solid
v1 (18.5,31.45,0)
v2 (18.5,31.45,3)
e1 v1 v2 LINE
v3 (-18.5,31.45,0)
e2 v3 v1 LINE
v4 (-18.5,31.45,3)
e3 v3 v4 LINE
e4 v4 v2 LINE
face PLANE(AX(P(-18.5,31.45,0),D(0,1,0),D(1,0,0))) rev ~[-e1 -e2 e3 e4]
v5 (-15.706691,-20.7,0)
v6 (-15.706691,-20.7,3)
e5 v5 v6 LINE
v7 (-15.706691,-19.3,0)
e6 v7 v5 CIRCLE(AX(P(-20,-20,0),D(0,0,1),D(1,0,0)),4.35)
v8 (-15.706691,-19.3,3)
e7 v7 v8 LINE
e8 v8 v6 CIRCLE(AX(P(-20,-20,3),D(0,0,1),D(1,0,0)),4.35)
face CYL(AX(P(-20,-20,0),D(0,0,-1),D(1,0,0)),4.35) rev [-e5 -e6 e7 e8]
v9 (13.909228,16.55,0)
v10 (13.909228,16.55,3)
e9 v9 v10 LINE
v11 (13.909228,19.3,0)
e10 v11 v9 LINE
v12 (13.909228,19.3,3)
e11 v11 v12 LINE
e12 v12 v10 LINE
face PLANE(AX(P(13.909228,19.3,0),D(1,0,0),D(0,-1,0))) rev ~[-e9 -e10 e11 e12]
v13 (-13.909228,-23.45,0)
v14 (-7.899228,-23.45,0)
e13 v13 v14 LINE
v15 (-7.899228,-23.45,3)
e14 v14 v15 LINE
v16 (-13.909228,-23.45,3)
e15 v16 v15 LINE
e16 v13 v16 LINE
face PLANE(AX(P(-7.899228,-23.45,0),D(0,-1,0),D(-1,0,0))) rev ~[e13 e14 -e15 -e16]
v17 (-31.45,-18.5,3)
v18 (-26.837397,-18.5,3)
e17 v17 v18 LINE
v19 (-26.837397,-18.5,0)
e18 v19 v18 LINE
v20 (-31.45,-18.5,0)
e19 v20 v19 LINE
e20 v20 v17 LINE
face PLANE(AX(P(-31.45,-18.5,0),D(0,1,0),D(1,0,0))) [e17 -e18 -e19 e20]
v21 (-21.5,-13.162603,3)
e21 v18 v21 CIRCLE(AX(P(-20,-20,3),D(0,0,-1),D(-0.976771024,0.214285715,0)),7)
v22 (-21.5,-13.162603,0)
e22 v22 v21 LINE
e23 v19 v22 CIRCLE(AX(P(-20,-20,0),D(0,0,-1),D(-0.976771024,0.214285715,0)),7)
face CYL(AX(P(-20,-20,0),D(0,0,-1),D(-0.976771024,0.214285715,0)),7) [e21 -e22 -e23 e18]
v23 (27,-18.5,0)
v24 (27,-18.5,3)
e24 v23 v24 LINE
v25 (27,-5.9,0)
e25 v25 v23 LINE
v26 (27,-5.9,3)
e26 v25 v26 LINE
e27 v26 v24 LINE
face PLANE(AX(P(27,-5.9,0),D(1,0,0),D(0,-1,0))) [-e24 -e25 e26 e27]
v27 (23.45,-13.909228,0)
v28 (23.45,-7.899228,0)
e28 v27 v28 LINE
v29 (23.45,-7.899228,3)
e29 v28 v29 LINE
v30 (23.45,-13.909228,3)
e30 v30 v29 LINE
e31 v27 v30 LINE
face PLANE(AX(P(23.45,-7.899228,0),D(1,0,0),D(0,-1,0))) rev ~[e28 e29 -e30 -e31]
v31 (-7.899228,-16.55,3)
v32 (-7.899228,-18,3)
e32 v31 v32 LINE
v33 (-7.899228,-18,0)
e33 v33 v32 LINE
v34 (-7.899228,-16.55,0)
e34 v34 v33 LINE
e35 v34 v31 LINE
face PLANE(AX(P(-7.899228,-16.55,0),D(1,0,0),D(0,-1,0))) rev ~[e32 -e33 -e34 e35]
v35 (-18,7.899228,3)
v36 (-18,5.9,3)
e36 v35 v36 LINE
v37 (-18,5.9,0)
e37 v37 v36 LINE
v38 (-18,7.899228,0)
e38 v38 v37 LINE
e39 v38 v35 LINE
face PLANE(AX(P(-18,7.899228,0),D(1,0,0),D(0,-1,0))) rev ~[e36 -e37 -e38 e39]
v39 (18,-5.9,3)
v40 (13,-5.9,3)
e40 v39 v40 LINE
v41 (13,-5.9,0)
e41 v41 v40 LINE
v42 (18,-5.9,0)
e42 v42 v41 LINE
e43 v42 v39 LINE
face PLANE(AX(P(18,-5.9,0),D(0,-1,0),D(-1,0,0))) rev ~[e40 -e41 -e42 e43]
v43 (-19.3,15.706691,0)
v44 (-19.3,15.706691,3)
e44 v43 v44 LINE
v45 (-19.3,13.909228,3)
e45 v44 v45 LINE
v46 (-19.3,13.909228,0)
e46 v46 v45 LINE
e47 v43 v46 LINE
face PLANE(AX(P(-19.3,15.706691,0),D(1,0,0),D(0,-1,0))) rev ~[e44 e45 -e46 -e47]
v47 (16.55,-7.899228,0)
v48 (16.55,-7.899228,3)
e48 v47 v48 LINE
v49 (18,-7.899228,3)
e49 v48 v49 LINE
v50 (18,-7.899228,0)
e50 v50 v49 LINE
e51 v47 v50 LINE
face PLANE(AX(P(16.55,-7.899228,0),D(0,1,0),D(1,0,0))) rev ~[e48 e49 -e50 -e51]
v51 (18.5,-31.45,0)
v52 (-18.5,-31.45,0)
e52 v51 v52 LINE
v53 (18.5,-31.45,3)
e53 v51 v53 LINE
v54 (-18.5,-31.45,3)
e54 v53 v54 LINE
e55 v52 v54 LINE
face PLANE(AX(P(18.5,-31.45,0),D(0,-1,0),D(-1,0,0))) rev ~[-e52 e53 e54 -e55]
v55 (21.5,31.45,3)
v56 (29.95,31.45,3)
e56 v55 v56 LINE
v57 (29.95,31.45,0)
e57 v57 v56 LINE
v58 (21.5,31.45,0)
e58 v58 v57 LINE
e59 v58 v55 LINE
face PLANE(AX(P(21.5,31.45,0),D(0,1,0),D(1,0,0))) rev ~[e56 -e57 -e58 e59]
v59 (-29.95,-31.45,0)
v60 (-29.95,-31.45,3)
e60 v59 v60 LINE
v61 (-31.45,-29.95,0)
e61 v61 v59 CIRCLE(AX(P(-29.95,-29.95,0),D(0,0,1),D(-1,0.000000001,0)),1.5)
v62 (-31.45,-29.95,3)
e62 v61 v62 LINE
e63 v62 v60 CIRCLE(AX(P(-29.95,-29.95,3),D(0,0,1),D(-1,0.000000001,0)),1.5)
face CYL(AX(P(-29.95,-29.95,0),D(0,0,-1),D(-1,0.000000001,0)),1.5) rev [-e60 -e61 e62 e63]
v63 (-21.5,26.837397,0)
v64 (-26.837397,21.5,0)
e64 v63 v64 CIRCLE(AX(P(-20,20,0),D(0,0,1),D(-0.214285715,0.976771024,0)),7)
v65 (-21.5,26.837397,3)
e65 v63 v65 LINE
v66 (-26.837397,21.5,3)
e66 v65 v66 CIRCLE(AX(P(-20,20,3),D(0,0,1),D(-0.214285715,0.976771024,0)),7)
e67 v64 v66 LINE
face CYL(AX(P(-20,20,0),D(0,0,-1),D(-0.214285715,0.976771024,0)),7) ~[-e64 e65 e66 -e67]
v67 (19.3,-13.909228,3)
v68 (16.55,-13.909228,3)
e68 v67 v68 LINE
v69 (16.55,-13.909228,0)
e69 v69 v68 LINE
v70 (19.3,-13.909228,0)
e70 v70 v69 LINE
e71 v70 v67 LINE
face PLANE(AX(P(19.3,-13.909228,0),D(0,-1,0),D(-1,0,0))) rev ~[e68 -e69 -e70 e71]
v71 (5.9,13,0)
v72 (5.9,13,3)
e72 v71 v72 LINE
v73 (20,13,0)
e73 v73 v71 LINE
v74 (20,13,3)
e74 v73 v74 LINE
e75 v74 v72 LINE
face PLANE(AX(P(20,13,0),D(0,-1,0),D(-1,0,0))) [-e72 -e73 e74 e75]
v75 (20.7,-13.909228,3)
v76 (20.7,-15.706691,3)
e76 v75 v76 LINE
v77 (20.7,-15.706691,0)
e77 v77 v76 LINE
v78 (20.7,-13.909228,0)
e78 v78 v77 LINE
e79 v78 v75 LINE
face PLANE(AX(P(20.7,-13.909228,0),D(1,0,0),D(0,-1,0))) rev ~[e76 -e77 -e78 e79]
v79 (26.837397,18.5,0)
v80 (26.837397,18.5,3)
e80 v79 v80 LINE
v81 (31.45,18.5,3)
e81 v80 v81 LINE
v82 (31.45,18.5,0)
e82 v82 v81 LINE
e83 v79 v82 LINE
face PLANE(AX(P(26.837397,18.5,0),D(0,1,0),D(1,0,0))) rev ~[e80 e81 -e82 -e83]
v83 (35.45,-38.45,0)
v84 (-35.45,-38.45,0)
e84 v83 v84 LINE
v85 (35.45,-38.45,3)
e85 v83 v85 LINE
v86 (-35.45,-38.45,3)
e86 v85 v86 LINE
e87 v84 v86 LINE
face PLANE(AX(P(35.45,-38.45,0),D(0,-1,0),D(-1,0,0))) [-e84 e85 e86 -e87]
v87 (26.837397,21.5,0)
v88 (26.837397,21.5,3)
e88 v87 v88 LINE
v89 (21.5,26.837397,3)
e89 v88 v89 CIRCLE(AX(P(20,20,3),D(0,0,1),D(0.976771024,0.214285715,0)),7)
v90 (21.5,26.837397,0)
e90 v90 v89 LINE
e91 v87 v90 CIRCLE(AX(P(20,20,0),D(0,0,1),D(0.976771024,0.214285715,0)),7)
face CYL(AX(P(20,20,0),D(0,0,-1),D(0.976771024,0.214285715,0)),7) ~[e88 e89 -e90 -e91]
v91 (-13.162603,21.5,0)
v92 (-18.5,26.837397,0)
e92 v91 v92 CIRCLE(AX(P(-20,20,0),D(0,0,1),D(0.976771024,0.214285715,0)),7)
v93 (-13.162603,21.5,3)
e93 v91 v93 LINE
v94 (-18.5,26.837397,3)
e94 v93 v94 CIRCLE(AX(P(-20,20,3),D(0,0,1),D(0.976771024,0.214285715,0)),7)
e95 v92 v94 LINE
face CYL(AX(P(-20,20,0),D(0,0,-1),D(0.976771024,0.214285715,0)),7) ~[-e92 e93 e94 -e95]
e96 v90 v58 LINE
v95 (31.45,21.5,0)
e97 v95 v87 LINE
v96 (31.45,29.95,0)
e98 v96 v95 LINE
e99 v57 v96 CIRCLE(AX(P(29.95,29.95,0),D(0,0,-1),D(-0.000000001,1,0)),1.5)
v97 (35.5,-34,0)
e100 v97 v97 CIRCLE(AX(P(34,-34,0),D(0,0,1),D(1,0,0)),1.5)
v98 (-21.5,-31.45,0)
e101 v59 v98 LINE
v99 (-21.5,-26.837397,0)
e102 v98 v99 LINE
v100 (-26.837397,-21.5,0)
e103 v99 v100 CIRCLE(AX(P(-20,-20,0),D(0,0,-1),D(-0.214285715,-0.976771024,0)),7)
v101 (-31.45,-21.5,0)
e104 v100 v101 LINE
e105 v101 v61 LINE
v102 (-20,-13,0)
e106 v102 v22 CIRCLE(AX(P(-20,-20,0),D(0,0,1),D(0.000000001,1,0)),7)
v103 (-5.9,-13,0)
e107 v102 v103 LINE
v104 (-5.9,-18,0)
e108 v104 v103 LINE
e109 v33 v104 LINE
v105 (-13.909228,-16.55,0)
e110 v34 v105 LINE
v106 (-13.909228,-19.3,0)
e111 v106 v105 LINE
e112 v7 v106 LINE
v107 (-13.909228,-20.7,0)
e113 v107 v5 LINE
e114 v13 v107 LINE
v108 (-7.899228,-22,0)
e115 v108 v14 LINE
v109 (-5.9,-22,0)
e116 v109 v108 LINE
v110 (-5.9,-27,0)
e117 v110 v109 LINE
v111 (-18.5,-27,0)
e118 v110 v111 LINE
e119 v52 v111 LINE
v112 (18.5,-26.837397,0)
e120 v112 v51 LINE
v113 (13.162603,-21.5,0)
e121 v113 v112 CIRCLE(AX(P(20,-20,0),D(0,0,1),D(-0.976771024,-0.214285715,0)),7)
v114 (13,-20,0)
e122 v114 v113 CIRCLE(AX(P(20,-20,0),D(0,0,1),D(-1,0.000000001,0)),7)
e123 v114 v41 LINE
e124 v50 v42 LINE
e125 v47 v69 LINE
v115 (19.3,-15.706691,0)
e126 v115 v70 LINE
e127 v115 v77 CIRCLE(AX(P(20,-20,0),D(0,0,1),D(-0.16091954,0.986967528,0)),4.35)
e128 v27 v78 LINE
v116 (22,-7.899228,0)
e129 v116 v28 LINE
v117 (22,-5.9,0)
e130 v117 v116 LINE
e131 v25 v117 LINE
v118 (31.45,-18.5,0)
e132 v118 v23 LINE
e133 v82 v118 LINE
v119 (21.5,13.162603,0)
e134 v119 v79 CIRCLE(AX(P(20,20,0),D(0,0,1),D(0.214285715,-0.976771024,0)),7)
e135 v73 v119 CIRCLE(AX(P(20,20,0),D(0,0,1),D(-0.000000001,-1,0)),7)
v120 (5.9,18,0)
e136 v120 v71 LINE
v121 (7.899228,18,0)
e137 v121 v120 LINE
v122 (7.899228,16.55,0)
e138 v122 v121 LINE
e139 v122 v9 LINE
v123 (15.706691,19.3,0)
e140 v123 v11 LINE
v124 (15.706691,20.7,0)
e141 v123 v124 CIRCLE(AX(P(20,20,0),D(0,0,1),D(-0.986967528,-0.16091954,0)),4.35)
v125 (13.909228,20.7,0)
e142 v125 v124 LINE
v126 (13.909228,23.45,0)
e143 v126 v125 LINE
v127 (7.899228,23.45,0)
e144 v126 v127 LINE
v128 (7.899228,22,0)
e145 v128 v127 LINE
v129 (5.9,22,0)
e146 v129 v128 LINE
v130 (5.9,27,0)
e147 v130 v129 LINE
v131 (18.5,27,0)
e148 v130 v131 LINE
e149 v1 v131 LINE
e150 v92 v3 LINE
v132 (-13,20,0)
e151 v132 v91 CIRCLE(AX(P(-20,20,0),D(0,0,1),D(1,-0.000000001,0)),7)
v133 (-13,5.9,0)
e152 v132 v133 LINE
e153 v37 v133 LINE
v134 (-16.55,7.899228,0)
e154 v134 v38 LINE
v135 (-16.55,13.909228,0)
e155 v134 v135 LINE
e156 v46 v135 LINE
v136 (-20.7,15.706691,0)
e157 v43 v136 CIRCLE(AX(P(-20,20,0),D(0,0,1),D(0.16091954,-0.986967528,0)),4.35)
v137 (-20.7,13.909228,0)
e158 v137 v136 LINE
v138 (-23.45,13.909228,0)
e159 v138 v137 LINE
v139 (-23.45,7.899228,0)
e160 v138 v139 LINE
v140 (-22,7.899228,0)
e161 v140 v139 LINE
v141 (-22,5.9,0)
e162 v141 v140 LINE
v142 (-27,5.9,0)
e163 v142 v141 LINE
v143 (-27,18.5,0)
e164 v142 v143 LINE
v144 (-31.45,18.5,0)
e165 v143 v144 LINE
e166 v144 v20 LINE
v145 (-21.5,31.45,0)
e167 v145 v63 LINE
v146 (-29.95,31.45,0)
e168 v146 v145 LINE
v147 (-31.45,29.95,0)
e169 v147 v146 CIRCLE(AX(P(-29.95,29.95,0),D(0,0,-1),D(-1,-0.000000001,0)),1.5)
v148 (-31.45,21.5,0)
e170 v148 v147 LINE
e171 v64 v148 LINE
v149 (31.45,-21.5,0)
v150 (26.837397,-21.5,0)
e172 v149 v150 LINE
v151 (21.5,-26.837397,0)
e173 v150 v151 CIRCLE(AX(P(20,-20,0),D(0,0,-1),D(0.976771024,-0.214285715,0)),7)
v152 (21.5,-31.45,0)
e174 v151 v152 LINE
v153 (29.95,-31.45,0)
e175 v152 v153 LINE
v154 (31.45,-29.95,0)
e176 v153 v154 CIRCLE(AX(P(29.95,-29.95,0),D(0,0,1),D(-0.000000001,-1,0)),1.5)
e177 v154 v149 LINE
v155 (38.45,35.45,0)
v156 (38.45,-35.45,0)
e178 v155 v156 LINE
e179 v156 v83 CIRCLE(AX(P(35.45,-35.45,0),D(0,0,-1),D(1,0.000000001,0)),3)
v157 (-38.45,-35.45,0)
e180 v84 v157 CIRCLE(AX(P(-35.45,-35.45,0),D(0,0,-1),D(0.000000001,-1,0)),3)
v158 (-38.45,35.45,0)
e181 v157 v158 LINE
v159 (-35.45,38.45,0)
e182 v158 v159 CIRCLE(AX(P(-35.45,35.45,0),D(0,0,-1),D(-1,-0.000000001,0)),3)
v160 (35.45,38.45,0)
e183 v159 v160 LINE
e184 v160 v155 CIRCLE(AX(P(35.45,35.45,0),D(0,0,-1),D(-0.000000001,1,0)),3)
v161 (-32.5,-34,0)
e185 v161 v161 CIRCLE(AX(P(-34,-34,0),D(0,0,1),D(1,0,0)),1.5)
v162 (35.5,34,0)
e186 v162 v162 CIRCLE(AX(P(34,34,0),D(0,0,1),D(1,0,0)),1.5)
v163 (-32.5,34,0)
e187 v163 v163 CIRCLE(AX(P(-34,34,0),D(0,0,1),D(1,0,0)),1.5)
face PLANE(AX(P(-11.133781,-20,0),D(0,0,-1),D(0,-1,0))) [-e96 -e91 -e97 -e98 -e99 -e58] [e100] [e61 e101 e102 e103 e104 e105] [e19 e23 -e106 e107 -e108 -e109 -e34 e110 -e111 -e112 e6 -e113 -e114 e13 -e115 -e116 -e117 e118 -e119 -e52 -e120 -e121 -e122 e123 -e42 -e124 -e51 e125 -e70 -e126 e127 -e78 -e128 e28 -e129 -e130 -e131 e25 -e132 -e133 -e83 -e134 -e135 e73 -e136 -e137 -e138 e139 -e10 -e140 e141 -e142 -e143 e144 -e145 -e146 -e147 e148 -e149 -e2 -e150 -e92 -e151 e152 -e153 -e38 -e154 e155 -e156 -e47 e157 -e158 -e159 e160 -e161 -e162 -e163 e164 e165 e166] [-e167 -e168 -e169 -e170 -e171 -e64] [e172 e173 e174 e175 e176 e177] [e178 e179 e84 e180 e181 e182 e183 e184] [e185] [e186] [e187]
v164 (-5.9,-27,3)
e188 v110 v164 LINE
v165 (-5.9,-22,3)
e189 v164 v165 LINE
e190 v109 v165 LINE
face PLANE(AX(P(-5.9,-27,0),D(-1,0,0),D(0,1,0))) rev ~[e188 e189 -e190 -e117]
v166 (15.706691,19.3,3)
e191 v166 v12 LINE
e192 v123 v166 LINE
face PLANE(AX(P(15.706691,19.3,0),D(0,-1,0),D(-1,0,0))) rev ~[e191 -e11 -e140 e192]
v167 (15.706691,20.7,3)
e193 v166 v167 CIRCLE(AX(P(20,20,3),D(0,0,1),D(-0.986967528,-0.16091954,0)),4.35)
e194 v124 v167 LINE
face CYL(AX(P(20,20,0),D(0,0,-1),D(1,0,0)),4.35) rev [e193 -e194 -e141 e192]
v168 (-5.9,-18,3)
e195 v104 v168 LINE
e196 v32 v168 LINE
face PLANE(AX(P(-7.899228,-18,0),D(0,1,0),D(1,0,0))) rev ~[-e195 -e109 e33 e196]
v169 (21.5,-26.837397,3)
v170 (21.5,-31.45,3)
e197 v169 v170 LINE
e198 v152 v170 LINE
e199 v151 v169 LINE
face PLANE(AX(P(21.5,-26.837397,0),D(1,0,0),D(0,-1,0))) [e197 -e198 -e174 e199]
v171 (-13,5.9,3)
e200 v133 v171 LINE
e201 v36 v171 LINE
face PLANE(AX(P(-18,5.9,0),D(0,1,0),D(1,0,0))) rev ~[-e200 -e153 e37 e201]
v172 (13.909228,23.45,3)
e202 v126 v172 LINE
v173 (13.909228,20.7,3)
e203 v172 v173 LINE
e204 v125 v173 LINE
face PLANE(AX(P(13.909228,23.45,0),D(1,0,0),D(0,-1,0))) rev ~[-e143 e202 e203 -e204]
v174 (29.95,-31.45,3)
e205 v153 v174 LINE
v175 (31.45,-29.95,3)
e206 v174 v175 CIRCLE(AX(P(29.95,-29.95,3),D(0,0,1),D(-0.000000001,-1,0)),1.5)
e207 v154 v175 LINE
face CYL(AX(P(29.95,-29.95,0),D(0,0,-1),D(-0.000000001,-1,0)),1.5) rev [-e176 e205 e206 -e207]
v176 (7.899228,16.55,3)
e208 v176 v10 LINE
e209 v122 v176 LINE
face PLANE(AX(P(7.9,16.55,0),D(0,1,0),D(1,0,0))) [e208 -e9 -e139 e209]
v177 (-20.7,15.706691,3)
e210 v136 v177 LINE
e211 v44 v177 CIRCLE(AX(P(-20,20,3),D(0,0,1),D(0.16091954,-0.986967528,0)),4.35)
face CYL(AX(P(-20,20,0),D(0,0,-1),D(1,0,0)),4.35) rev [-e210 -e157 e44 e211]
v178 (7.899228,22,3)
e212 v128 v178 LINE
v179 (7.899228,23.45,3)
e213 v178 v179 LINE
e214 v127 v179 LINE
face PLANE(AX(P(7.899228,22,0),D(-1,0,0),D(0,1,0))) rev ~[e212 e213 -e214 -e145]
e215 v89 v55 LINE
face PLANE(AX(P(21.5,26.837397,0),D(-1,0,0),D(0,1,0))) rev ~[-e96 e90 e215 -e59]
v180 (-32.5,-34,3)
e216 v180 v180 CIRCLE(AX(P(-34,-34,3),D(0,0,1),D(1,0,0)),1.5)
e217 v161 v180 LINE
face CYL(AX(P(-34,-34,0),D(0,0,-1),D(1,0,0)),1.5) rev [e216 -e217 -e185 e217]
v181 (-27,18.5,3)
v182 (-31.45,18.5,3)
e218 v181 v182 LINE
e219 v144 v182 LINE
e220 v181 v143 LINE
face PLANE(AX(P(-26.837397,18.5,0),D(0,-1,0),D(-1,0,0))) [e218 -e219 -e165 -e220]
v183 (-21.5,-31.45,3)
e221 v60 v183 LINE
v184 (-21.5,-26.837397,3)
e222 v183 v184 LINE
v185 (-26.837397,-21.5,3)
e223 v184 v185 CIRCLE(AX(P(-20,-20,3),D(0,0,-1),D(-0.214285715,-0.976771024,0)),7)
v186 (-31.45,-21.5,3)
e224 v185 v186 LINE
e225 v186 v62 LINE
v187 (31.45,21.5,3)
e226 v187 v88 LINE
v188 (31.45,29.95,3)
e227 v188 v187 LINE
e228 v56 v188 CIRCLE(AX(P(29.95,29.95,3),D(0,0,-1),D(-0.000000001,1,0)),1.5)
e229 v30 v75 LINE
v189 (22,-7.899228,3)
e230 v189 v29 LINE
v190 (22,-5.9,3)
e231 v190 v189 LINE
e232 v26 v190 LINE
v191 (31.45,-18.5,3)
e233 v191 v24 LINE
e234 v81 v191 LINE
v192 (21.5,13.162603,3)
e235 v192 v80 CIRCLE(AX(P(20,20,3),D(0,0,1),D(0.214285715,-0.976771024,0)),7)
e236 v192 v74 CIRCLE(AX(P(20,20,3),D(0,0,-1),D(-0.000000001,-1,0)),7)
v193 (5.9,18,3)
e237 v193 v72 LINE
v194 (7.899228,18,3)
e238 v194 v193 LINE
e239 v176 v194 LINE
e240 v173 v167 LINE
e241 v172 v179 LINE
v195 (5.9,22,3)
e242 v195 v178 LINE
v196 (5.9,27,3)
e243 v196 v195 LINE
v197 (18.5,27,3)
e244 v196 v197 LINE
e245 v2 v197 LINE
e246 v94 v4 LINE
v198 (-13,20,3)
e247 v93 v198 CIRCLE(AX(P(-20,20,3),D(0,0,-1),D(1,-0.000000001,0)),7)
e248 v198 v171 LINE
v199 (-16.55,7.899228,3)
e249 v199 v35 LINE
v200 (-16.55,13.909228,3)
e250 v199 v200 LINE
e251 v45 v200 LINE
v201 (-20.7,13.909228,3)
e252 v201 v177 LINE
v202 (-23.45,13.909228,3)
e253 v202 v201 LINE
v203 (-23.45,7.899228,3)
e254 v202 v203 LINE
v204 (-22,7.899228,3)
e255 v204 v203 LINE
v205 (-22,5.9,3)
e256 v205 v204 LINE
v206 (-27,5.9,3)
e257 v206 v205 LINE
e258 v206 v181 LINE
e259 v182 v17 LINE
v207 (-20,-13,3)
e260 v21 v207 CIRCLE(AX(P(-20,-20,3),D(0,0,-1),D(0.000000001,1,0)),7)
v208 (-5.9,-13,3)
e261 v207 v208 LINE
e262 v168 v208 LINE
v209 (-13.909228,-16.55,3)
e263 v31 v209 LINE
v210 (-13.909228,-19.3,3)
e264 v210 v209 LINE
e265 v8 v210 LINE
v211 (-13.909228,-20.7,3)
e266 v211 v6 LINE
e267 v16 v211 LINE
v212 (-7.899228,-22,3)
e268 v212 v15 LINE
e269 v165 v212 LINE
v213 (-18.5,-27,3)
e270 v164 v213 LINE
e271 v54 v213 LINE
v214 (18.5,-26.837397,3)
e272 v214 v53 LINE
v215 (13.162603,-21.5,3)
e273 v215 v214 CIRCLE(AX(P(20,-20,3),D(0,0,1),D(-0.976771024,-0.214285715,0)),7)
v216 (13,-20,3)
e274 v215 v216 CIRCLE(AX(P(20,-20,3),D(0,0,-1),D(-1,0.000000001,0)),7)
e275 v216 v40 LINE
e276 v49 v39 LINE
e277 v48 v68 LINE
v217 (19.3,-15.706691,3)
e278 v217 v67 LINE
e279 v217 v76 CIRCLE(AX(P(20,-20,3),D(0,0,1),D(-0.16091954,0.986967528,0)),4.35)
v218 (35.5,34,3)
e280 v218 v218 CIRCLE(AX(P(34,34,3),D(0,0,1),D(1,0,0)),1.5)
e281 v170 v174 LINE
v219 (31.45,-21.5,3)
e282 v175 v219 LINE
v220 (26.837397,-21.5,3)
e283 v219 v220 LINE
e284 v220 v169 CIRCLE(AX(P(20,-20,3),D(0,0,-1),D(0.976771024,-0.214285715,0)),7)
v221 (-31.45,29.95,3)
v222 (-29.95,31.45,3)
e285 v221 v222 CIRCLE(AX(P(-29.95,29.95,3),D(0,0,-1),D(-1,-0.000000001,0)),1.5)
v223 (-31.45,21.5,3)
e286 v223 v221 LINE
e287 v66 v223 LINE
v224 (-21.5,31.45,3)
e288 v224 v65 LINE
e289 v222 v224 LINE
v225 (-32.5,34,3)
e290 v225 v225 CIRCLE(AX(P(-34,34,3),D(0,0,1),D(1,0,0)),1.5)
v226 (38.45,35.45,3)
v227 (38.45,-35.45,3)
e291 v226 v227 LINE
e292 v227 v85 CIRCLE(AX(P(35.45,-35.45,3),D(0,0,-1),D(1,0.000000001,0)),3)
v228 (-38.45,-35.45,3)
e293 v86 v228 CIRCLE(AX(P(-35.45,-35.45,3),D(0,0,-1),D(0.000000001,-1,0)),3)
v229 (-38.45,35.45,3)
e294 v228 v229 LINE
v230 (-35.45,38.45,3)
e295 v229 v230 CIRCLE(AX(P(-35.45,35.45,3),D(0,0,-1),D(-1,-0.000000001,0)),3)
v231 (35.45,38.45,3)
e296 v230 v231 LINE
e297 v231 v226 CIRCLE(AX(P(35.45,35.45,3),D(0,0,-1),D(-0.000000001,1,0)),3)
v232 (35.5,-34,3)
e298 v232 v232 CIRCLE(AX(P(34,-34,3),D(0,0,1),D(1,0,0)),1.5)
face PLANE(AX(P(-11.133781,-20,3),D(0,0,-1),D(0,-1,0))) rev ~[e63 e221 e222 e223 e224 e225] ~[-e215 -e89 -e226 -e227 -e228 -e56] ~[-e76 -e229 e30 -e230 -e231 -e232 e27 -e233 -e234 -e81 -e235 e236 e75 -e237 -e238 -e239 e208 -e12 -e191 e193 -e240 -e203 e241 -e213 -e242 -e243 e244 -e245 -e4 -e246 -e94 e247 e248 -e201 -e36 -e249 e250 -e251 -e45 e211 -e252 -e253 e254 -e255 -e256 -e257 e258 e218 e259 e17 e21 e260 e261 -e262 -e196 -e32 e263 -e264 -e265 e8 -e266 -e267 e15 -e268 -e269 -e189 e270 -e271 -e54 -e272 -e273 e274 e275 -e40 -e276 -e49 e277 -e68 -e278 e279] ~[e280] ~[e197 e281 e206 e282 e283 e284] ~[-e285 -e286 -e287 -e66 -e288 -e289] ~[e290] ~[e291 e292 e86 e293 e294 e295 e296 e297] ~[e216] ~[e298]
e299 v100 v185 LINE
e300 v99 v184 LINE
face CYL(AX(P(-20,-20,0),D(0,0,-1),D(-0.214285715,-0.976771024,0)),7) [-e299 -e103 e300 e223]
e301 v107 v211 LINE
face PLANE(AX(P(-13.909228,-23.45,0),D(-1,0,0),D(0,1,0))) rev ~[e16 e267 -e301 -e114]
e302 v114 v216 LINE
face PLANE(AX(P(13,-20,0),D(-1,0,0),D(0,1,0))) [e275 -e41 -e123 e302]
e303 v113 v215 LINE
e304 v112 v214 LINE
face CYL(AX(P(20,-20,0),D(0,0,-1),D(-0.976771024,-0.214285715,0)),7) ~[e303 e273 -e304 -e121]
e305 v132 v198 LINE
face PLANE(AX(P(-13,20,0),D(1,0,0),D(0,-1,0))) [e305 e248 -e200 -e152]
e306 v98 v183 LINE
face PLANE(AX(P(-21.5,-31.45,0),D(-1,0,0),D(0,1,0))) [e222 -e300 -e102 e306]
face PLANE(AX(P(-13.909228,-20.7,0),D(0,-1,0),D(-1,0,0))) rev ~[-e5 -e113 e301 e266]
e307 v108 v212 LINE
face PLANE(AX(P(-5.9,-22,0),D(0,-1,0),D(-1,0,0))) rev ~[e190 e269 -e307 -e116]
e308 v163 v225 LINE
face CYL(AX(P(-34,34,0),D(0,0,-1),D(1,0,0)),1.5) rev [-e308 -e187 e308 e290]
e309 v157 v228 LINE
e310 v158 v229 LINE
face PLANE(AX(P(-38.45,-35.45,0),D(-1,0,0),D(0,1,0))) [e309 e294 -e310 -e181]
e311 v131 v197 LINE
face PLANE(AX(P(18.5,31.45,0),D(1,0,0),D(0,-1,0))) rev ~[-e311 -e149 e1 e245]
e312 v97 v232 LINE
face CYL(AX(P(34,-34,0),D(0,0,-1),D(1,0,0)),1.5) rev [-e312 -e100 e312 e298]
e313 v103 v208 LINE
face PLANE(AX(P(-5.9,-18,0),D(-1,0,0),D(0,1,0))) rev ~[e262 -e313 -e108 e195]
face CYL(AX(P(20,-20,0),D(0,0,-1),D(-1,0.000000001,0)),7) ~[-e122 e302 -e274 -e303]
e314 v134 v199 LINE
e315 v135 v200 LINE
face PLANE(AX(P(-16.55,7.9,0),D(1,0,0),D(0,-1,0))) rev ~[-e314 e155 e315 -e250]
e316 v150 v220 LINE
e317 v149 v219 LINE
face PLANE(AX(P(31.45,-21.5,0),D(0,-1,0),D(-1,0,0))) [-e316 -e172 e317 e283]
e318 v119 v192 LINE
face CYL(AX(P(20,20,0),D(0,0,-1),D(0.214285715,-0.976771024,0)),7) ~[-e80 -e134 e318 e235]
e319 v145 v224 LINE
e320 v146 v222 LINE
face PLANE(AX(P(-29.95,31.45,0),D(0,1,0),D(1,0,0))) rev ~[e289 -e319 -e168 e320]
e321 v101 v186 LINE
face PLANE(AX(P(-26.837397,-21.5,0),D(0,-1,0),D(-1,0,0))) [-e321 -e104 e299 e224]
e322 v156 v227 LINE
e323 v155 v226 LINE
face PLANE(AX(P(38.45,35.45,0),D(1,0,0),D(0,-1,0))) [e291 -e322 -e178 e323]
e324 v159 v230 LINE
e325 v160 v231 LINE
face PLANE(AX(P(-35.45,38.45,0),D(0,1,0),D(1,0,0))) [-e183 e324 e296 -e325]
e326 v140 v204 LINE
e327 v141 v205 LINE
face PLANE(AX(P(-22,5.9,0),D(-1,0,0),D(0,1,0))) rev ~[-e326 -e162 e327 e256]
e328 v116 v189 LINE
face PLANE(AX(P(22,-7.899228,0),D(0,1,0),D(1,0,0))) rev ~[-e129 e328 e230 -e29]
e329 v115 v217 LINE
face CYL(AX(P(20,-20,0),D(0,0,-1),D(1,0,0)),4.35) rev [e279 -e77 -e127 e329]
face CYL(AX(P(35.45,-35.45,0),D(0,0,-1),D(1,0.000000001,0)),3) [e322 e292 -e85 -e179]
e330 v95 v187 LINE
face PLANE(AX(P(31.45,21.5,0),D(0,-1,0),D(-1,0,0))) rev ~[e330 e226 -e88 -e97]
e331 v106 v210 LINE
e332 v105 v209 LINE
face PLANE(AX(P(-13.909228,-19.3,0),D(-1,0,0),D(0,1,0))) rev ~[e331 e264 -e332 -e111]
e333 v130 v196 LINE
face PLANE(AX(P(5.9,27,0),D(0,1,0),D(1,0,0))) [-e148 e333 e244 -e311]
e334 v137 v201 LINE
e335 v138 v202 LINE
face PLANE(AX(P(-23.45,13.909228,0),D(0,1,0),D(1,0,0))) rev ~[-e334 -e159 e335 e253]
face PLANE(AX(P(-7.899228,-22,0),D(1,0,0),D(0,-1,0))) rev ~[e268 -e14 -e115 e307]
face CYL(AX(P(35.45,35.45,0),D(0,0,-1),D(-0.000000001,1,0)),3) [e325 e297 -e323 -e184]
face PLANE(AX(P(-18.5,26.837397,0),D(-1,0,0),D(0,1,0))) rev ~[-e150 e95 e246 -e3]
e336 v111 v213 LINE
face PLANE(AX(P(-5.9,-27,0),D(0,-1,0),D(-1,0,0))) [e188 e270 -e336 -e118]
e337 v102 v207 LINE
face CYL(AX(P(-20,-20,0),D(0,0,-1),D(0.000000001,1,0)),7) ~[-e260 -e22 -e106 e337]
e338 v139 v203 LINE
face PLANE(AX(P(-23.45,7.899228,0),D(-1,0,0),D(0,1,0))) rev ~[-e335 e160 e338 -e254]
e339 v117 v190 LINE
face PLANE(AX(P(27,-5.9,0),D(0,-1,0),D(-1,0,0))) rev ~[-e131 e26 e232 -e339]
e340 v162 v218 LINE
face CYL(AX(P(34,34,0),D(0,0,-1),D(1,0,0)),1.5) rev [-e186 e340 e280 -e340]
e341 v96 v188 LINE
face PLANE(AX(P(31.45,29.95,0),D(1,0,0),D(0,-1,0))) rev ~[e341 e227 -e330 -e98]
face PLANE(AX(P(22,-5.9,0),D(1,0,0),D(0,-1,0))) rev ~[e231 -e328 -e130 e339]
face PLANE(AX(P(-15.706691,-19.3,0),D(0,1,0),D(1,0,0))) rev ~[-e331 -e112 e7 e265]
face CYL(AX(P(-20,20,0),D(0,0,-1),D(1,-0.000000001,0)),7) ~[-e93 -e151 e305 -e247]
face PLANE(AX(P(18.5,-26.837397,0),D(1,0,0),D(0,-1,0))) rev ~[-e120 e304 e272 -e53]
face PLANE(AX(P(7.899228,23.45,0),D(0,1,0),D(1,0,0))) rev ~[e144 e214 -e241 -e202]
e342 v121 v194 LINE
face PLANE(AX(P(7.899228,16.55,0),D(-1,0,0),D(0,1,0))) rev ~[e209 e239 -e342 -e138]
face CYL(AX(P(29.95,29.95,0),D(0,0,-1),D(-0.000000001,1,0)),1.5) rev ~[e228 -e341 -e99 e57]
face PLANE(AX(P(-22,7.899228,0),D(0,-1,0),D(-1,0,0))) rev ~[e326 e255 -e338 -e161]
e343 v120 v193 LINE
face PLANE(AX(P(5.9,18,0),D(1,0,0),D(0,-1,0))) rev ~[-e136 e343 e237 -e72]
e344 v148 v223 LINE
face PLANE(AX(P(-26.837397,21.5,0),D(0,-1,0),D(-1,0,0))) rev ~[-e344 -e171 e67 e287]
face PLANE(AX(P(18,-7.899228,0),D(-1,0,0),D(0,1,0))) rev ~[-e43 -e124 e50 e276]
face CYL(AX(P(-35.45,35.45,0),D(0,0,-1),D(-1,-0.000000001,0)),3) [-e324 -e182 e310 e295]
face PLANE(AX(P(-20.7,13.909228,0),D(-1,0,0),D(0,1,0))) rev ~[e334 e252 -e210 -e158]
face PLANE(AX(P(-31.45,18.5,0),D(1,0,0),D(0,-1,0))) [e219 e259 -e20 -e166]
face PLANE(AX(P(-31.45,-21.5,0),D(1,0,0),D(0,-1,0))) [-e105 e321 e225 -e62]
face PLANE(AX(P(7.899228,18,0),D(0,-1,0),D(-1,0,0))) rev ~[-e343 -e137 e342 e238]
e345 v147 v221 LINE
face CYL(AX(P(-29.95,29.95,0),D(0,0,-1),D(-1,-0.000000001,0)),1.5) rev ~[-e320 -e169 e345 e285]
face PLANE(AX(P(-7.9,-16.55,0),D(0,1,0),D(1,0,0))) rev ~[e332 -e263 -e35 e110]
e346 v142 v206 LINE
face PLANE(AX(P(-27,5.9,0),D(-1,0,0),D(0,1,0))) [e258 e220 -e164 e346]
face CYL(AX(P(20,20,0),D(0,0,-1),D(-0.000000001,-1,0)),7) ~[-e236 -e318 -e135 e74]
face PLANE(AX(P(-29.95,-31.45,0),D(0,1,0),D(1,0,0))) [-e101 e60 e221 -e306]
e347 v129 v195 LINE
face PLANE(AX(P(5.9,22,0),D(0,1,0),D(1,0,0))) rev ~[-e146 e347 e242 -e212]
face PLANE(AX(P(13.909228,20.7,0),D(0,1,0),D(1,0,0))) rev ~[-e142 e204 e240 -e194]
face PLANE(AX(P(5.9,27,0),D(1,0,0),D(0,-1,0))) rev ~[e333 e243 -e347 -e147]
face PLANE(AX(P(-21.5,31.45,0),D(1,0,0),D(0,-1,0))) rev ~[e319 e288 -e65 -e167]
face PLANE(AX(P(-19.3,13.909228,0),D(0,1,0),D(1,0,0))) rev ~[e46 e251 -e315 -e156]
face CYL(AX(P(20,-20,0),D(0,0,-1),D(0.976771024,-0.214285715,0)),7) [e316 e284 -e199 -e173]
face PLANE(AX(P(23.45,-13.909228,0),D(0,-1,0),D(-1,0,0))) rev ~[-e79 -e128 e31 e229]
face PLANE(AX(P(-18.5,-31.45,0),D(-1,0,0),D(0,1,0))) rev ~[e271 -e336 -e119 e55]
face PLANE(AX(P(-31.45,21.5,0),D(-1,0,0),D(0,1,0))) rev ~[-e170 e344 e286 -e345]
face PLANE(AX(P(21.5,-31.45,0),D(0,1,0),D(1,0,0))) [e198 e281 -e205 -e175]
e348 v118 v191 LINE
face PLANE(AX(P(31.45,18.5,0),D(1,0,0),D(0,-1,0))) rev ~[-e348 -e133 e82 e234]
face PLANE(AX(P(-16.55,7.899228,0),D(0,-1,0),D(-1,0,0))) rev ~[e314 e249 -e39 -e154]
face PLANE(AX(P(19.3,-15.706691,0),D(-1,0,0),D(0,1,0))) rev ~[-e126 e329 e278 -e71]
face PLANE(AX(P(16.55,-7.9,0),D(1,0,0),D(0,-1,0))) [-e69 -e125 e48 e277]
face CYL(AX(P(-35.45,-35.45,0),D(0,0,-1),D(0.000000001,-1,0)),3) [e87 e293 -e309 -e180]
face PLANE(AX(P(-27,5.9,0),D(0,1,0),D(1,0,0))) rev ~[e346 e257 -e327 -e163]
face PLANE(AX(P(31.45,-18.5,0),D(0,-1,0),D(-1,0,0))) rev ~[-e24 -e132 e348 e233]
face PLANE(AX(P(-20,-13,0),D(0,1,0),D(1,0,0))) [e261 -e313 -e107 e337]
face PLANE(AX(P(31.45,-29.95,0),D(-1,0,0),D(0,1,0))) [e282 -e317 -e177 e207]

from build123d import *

# Parameters (mm, degrees)
SKETCH_1_R               = 1.5
SKETCH_1_R_2             = 4.35
EXTRUDE_1_DEPTH          = 3
EXTRUDE_3_DEPTH          = 3
CUT_EXTRUDE_2_DEPTH      = 55.459204915
PATTERN_CIRCULAR_2_COUNT = 4


with BuildPart() as part:
    # 草圖1 → 填料-伸長1 (new body)
    with BuildSketch(Plane.XY):
        with BuildLine():
            Line((35.45, 38.45), (-35.45, 38.45))
            ThreePointArc((-35.45, 38.45), (-37.571320344, 37.571320344), (-38.45, 35.45))
            Line((-38.45, 35.45), (-38.45, -35.45))
            ThreePointArc((-38.45, -35.45), (-37.571320344, -37.571320344), (-35.45, -38.45))
            Line((-35.45, -38.45), (35.45, -38.45))
            ThreePointArc((35.45, -38.45), (37.571320344, -37.571320344), (38.45, -35.45))
            Line((38.45, -35.45), (38.45, 35.45))
            ThreePointArc((38.45, 35.45), (37.571320344, 37.571320344), (35.45, 38.45))
        make_face()
        with Locations((-34, -34)):
            Circle(SKETCH_1_R, mode=Mode.SUBTRACT)
        with BuildLine():
            Line((-21.5, -31.45), (-29.95, -31.45))
            ThreePointArc((-29.95, -31.45), (-31.010660172, -31.010660172), (-31.45, -29.95))
            Line((-31.45, -29.95), (-31.45, -21.5))
            Line((-31.45, -21.5), (-26.837397166, -21.5))
            ThreePointArc((-26.837397166, -21.5), (-24.949747468, -24.949747468), (-21.5, -26.837397166))
            Line((-21.5, -26.837397166), (-21.5, -31.45))
        make_face(mode=Mode.SUBTRACT)
        with Locations((-20, -20)):
            Circle(SKETCH_1_R_2, mode=Mode.SUBTRACT)
        with BuildLine():
            Line((18.5, -31.45), (-18.5, -31.45))
            Line((-18.5, -31.45), (-18.5, -26.837397166))
            ThreePointArc((-18.5, -26.837397166), (-15.050252532, -24.949747468), (-13.162602834, -21.5))
            Line((-13.162602834, -21.5), (13.162602834, -21.5))
            ThreePointArc((13.162602834, -21.5), (15.050252532, -24.949747468), (18.5, -26.837397166))
            Line((18.5, -26.837397166), (18.5, -31.45))
        make_face(mode=Mode.SUBTRACT)
        with Locations((34, -34)):
            Circle(SKETCH_1_R, mode=Mode.SUBTRACT)
        with BuildLine():
            Line((21.5, -31.45), (21.5, -26.837397166))
            ThreePointArc((21.5, -26.837397166), (24.949747468, -24.949747468), (26.837397166, -21.5))
            Line((26.837397166, -21.5), (31.45, -21.5))
            Line((31.45, -21.5), (31.45, -29.95))
            ThreePointArc((31.45, -29.95), (31.010660172, -31.010660172), (29.95, -31.45))
            Line((29.95, -31.45), (21.5, -31.45))
        make_face(mode=Mode.SUBTRACT)
        with Locations((20, -20)):
            Circle(SKETCH_1_R_2, mode=Mode.SUBTRACT)
        with BuildLine():
            Line((-31.45, -18.5), (-31.45, 18.5))
            Line((-31.45, 18.5), (-26.837397166, 18.5))
            ThreePointArc((-26.837397166, 18.5), (-24.949747468, 15.050252532), (-21.5, 13.162602834))
            Line((-21.5, 13.162602834), (-21.5, -13.162602834))
            ThreePointArc((-21.5, -13.162602834), (-24.949747468, -15.050252532), (-26.837397166, -18.5))
            Line((-26.837397166, -18.5), (-31.45, -18.5))
        make_face(mode=Mode.SUBTRACT)
        with Locations((-20, 20)):
            Circle(SKETCH_1_R_2, mode=Mode.SUBTRACT)
        with BuildLine():
            ThreePointArc((-31.45, 29.95), (-31.010660172, 31.010660172), (-29.95, 31.45))
            Line((-29.95, 31.45), (-21.5, 31.45))
            Line((-21.5, 31.45), (-21.5, 26.837397166))
            ThreePointArc((-21.5, 26.837397166), (-24.949747468, 24.949747468), (-26.837397166, 21.5))
            Line((-26.837397166, 21.5), (-31.45, 21.5))
            Line((-31.45, 21.5), (-31.45, 29.95))
        make_face(mode=Mode.SUBTRACT)
        with Locations((-34, 34)):
            Circle(SKETCH_1_R, mode=Mode.SUBTRACT)
        with BuildLine():
            ThreePointArc((-18.5, 13.162602834), (-15.050252532, 15.050252532), (-13.162602834, 18.5))
            Line((-13.162602834, 18.5), (13.162602834, 18.5))
            ThreePointArc((13.162602834, 18.5), (15.050252532, 15.050252532), (18.5, 13.162602834))
            Line((18.5, 13.162602834), (18.5, -13.162602834))
            ThreePointArc((18.5, -13.162602834), (15.050252532, -15.050252532), (13.162602834, -18.5))
            Line((13.162602834, -18.5), (-13.162602834, -18.5))
            ThreePointArc((-13.162602834, -18.5), (-15.050252532, -15.050252532), (-18.5, -13.162602834))
            Line((-18.5, -13.162602834), (-18.5, 13.162602834))
        make_face(mode=Mode.SUBTRACT)
        with BuildLine():
            ThreePointArc((21.5, 13.162602834), (24.949747468, 15.050252532), (26.837397166, 18.5))
            Line((26.837397166, 18.5), (31.45, 18.5))
            Line((31.45, 18.5), (31.45, -18.5))
            Line((31.45, -18.5), (26.837397166, -18.5))
            ThreePointArc((26.837397166, -18.5), (24.949747468, -15.050252532), (21.5, -13.162602834))
            Line((21.5, -13.162602834), (21.5, 13.162602834))
        make_face(mode=Mode.SUBTRACT)
        with BuildLine():
            Line((-18.5, 26.837397166), (-18.5, 31.45))
            Line((-18.5, 31.45), (18.5, 31.45))
            Line((18.5, 31.45), (18.5, 26.837397166))
            ThreePointArc((18.5, 26.837397166), (15.050252532, 24.949747468), (13.162602834, 21.5))
            Line((13.162602834, 21.5), (-13.162602834, 21.5))
            ThreePointArc((-13.162602834, 21.5), (-15.050252532, 24.949747468), (-18.5, 26.837397166))
        make_face(mode=Mode.SUBTRACT)
        with Locations((20, 20)):
            Circle(SKETCH_1_R_2, mode=Mode.SUBTRACT)
        with BuildLine():
            ThreePointArc((29.95, 31.45), (31.010660172, 31.010660172), (31.45, 29.95))
            Line((31.45, 29.95), (31.45, 21.5))
            Line((31.45, 21.5), (26.837397166, 21.5))
            ThreePointArc((26.837397166, 21.5), (24.949747468, 24.949747468), (21.5, 26.837397166))
            Line((21.5, 26.837397166), (21.5, 31.45))
            Line((21.5, 31.45), (29.95, 31.45))
        make_face(mode=Mode.SUBTRACT)
        with Locations((34, 34)):
            Circle(SKETCH_1_R, mode=Mode.SUBTRACT)
    extrude(amount=EXTRUDE_1_DEPTH)

    # 草圖2 → 填料-伸長3 (add)
    with BuildSketch(Plane(origin=(0, 0, 0), x_dir=(-1, 0, 0), z_dir=(0, 0, -1))):
        with BuildLine():
            ThreePointArc((16.55, 13.909228292), (13.952273154, 16.475088654), (13, 20))
            Line((13, 20), (13, 5.9))
            Line((13, 5.9), (15.009228292, 3.9))
            Line((15.009228292, 3.9), (24.990771708, 3.9))
            Line((24.990771708, 3.9), (27, 5.9))
            Line((27, 5.9), (27, 20))
            ThreePointArc((27, 20), (26.047726846, 16.475088654), (23.45, 13.909228292))
            Line((23.45, 13.909228292), (23.45, 7.9))
            Line((23.45, 7.9), (16.55, 7.9))
            Line((16.55, 7.9), (16.55, 13.909228292))
        make_face()
    extrude_3 = extrude(amount=-EXTRUDE_3_DEPTH)

    # 草圖4 → 除料-伸長2 (cut, through all)
    with BuildSketch(Plane(origin=(0, 0, 0), x_dir=(-1, 0, 0), z_dir=(0, 0, -1))):
        with BuildLine():
            Line((16.55, 13.909228292), (16.55, 7.899228292))
            Line((16.55, 7.899228292), (18, 7.899228292))
            Line((18, 7.899228292), (18, 5.9))
            Line((18, 5.9), (13, 5.9))
            Line((13, 5.9), (13, -2.100771708))
            Line((13, -2.100771708), (18.5, -2.100771708))
            Line((18.5, -2.100771708), (18.5, -13))
            Line((18.5, -13), (20, -13))
            ThreePointArc((20, -13), (20.754393744, -13.040769433), (21.5, -13.162602834))
            Line((21.5, -13.162602834), (21.5, -2.100771708))
            Line((21.5, -2.100771708), (31.45, -2.100771708))
            Line((31.45, -2.100771708), (31.45, 5.9))
            Line((31.45, 5.9), (22, 5.9))
            Line((22, 5.9), (22, 7.899228292))
            Line((22, 7.899228292), (23.45, 7.899228292))
            Line((23.45, 7.899228292), (23.45, 13.909228292))
            Line((23.45, 13.909228292), (20.7, 13.909228292))
            Line((20.7, 13.909228292), (20.7, 16.409228292))
            Line((20.7, 16.409228292), (19.3, 16.409228292))
            Line((19.3, 16.409228292), (19.3, 13.909228292))
            Line((19.3, 13.909228292), (16.55, 13.909228292))
        make_face()
    cut_extrude_2 = extrude(amount=-CUT_EXTRUDE_2_DEPTH, mode=Mode.SUBTRACT)

    # 環狀複製排列2: 填料-伸長3, 除料-伸長2 ×4 about axis
    pattern_circular_2_axis = Axis((0, 0, -0.15), (0, 0, 1))
    add([extrude_3.rotate(pattern_circular_2_axis, i * 360 / PATTERN_CIRCULAR_2_COUNT) for i in range(1, PATTERN_CIRCULAR_2_COUNT)])
    add([cut_extrude_2.rotate(pattern_circular_2_axis, i * 360 / PATTERN_CIRCULAR_2_COUNT) for i in range(1, PATTERN_CIRCULAR_2_COUNT)], mode=Mode.SUBTRACT)


solid = part.part
